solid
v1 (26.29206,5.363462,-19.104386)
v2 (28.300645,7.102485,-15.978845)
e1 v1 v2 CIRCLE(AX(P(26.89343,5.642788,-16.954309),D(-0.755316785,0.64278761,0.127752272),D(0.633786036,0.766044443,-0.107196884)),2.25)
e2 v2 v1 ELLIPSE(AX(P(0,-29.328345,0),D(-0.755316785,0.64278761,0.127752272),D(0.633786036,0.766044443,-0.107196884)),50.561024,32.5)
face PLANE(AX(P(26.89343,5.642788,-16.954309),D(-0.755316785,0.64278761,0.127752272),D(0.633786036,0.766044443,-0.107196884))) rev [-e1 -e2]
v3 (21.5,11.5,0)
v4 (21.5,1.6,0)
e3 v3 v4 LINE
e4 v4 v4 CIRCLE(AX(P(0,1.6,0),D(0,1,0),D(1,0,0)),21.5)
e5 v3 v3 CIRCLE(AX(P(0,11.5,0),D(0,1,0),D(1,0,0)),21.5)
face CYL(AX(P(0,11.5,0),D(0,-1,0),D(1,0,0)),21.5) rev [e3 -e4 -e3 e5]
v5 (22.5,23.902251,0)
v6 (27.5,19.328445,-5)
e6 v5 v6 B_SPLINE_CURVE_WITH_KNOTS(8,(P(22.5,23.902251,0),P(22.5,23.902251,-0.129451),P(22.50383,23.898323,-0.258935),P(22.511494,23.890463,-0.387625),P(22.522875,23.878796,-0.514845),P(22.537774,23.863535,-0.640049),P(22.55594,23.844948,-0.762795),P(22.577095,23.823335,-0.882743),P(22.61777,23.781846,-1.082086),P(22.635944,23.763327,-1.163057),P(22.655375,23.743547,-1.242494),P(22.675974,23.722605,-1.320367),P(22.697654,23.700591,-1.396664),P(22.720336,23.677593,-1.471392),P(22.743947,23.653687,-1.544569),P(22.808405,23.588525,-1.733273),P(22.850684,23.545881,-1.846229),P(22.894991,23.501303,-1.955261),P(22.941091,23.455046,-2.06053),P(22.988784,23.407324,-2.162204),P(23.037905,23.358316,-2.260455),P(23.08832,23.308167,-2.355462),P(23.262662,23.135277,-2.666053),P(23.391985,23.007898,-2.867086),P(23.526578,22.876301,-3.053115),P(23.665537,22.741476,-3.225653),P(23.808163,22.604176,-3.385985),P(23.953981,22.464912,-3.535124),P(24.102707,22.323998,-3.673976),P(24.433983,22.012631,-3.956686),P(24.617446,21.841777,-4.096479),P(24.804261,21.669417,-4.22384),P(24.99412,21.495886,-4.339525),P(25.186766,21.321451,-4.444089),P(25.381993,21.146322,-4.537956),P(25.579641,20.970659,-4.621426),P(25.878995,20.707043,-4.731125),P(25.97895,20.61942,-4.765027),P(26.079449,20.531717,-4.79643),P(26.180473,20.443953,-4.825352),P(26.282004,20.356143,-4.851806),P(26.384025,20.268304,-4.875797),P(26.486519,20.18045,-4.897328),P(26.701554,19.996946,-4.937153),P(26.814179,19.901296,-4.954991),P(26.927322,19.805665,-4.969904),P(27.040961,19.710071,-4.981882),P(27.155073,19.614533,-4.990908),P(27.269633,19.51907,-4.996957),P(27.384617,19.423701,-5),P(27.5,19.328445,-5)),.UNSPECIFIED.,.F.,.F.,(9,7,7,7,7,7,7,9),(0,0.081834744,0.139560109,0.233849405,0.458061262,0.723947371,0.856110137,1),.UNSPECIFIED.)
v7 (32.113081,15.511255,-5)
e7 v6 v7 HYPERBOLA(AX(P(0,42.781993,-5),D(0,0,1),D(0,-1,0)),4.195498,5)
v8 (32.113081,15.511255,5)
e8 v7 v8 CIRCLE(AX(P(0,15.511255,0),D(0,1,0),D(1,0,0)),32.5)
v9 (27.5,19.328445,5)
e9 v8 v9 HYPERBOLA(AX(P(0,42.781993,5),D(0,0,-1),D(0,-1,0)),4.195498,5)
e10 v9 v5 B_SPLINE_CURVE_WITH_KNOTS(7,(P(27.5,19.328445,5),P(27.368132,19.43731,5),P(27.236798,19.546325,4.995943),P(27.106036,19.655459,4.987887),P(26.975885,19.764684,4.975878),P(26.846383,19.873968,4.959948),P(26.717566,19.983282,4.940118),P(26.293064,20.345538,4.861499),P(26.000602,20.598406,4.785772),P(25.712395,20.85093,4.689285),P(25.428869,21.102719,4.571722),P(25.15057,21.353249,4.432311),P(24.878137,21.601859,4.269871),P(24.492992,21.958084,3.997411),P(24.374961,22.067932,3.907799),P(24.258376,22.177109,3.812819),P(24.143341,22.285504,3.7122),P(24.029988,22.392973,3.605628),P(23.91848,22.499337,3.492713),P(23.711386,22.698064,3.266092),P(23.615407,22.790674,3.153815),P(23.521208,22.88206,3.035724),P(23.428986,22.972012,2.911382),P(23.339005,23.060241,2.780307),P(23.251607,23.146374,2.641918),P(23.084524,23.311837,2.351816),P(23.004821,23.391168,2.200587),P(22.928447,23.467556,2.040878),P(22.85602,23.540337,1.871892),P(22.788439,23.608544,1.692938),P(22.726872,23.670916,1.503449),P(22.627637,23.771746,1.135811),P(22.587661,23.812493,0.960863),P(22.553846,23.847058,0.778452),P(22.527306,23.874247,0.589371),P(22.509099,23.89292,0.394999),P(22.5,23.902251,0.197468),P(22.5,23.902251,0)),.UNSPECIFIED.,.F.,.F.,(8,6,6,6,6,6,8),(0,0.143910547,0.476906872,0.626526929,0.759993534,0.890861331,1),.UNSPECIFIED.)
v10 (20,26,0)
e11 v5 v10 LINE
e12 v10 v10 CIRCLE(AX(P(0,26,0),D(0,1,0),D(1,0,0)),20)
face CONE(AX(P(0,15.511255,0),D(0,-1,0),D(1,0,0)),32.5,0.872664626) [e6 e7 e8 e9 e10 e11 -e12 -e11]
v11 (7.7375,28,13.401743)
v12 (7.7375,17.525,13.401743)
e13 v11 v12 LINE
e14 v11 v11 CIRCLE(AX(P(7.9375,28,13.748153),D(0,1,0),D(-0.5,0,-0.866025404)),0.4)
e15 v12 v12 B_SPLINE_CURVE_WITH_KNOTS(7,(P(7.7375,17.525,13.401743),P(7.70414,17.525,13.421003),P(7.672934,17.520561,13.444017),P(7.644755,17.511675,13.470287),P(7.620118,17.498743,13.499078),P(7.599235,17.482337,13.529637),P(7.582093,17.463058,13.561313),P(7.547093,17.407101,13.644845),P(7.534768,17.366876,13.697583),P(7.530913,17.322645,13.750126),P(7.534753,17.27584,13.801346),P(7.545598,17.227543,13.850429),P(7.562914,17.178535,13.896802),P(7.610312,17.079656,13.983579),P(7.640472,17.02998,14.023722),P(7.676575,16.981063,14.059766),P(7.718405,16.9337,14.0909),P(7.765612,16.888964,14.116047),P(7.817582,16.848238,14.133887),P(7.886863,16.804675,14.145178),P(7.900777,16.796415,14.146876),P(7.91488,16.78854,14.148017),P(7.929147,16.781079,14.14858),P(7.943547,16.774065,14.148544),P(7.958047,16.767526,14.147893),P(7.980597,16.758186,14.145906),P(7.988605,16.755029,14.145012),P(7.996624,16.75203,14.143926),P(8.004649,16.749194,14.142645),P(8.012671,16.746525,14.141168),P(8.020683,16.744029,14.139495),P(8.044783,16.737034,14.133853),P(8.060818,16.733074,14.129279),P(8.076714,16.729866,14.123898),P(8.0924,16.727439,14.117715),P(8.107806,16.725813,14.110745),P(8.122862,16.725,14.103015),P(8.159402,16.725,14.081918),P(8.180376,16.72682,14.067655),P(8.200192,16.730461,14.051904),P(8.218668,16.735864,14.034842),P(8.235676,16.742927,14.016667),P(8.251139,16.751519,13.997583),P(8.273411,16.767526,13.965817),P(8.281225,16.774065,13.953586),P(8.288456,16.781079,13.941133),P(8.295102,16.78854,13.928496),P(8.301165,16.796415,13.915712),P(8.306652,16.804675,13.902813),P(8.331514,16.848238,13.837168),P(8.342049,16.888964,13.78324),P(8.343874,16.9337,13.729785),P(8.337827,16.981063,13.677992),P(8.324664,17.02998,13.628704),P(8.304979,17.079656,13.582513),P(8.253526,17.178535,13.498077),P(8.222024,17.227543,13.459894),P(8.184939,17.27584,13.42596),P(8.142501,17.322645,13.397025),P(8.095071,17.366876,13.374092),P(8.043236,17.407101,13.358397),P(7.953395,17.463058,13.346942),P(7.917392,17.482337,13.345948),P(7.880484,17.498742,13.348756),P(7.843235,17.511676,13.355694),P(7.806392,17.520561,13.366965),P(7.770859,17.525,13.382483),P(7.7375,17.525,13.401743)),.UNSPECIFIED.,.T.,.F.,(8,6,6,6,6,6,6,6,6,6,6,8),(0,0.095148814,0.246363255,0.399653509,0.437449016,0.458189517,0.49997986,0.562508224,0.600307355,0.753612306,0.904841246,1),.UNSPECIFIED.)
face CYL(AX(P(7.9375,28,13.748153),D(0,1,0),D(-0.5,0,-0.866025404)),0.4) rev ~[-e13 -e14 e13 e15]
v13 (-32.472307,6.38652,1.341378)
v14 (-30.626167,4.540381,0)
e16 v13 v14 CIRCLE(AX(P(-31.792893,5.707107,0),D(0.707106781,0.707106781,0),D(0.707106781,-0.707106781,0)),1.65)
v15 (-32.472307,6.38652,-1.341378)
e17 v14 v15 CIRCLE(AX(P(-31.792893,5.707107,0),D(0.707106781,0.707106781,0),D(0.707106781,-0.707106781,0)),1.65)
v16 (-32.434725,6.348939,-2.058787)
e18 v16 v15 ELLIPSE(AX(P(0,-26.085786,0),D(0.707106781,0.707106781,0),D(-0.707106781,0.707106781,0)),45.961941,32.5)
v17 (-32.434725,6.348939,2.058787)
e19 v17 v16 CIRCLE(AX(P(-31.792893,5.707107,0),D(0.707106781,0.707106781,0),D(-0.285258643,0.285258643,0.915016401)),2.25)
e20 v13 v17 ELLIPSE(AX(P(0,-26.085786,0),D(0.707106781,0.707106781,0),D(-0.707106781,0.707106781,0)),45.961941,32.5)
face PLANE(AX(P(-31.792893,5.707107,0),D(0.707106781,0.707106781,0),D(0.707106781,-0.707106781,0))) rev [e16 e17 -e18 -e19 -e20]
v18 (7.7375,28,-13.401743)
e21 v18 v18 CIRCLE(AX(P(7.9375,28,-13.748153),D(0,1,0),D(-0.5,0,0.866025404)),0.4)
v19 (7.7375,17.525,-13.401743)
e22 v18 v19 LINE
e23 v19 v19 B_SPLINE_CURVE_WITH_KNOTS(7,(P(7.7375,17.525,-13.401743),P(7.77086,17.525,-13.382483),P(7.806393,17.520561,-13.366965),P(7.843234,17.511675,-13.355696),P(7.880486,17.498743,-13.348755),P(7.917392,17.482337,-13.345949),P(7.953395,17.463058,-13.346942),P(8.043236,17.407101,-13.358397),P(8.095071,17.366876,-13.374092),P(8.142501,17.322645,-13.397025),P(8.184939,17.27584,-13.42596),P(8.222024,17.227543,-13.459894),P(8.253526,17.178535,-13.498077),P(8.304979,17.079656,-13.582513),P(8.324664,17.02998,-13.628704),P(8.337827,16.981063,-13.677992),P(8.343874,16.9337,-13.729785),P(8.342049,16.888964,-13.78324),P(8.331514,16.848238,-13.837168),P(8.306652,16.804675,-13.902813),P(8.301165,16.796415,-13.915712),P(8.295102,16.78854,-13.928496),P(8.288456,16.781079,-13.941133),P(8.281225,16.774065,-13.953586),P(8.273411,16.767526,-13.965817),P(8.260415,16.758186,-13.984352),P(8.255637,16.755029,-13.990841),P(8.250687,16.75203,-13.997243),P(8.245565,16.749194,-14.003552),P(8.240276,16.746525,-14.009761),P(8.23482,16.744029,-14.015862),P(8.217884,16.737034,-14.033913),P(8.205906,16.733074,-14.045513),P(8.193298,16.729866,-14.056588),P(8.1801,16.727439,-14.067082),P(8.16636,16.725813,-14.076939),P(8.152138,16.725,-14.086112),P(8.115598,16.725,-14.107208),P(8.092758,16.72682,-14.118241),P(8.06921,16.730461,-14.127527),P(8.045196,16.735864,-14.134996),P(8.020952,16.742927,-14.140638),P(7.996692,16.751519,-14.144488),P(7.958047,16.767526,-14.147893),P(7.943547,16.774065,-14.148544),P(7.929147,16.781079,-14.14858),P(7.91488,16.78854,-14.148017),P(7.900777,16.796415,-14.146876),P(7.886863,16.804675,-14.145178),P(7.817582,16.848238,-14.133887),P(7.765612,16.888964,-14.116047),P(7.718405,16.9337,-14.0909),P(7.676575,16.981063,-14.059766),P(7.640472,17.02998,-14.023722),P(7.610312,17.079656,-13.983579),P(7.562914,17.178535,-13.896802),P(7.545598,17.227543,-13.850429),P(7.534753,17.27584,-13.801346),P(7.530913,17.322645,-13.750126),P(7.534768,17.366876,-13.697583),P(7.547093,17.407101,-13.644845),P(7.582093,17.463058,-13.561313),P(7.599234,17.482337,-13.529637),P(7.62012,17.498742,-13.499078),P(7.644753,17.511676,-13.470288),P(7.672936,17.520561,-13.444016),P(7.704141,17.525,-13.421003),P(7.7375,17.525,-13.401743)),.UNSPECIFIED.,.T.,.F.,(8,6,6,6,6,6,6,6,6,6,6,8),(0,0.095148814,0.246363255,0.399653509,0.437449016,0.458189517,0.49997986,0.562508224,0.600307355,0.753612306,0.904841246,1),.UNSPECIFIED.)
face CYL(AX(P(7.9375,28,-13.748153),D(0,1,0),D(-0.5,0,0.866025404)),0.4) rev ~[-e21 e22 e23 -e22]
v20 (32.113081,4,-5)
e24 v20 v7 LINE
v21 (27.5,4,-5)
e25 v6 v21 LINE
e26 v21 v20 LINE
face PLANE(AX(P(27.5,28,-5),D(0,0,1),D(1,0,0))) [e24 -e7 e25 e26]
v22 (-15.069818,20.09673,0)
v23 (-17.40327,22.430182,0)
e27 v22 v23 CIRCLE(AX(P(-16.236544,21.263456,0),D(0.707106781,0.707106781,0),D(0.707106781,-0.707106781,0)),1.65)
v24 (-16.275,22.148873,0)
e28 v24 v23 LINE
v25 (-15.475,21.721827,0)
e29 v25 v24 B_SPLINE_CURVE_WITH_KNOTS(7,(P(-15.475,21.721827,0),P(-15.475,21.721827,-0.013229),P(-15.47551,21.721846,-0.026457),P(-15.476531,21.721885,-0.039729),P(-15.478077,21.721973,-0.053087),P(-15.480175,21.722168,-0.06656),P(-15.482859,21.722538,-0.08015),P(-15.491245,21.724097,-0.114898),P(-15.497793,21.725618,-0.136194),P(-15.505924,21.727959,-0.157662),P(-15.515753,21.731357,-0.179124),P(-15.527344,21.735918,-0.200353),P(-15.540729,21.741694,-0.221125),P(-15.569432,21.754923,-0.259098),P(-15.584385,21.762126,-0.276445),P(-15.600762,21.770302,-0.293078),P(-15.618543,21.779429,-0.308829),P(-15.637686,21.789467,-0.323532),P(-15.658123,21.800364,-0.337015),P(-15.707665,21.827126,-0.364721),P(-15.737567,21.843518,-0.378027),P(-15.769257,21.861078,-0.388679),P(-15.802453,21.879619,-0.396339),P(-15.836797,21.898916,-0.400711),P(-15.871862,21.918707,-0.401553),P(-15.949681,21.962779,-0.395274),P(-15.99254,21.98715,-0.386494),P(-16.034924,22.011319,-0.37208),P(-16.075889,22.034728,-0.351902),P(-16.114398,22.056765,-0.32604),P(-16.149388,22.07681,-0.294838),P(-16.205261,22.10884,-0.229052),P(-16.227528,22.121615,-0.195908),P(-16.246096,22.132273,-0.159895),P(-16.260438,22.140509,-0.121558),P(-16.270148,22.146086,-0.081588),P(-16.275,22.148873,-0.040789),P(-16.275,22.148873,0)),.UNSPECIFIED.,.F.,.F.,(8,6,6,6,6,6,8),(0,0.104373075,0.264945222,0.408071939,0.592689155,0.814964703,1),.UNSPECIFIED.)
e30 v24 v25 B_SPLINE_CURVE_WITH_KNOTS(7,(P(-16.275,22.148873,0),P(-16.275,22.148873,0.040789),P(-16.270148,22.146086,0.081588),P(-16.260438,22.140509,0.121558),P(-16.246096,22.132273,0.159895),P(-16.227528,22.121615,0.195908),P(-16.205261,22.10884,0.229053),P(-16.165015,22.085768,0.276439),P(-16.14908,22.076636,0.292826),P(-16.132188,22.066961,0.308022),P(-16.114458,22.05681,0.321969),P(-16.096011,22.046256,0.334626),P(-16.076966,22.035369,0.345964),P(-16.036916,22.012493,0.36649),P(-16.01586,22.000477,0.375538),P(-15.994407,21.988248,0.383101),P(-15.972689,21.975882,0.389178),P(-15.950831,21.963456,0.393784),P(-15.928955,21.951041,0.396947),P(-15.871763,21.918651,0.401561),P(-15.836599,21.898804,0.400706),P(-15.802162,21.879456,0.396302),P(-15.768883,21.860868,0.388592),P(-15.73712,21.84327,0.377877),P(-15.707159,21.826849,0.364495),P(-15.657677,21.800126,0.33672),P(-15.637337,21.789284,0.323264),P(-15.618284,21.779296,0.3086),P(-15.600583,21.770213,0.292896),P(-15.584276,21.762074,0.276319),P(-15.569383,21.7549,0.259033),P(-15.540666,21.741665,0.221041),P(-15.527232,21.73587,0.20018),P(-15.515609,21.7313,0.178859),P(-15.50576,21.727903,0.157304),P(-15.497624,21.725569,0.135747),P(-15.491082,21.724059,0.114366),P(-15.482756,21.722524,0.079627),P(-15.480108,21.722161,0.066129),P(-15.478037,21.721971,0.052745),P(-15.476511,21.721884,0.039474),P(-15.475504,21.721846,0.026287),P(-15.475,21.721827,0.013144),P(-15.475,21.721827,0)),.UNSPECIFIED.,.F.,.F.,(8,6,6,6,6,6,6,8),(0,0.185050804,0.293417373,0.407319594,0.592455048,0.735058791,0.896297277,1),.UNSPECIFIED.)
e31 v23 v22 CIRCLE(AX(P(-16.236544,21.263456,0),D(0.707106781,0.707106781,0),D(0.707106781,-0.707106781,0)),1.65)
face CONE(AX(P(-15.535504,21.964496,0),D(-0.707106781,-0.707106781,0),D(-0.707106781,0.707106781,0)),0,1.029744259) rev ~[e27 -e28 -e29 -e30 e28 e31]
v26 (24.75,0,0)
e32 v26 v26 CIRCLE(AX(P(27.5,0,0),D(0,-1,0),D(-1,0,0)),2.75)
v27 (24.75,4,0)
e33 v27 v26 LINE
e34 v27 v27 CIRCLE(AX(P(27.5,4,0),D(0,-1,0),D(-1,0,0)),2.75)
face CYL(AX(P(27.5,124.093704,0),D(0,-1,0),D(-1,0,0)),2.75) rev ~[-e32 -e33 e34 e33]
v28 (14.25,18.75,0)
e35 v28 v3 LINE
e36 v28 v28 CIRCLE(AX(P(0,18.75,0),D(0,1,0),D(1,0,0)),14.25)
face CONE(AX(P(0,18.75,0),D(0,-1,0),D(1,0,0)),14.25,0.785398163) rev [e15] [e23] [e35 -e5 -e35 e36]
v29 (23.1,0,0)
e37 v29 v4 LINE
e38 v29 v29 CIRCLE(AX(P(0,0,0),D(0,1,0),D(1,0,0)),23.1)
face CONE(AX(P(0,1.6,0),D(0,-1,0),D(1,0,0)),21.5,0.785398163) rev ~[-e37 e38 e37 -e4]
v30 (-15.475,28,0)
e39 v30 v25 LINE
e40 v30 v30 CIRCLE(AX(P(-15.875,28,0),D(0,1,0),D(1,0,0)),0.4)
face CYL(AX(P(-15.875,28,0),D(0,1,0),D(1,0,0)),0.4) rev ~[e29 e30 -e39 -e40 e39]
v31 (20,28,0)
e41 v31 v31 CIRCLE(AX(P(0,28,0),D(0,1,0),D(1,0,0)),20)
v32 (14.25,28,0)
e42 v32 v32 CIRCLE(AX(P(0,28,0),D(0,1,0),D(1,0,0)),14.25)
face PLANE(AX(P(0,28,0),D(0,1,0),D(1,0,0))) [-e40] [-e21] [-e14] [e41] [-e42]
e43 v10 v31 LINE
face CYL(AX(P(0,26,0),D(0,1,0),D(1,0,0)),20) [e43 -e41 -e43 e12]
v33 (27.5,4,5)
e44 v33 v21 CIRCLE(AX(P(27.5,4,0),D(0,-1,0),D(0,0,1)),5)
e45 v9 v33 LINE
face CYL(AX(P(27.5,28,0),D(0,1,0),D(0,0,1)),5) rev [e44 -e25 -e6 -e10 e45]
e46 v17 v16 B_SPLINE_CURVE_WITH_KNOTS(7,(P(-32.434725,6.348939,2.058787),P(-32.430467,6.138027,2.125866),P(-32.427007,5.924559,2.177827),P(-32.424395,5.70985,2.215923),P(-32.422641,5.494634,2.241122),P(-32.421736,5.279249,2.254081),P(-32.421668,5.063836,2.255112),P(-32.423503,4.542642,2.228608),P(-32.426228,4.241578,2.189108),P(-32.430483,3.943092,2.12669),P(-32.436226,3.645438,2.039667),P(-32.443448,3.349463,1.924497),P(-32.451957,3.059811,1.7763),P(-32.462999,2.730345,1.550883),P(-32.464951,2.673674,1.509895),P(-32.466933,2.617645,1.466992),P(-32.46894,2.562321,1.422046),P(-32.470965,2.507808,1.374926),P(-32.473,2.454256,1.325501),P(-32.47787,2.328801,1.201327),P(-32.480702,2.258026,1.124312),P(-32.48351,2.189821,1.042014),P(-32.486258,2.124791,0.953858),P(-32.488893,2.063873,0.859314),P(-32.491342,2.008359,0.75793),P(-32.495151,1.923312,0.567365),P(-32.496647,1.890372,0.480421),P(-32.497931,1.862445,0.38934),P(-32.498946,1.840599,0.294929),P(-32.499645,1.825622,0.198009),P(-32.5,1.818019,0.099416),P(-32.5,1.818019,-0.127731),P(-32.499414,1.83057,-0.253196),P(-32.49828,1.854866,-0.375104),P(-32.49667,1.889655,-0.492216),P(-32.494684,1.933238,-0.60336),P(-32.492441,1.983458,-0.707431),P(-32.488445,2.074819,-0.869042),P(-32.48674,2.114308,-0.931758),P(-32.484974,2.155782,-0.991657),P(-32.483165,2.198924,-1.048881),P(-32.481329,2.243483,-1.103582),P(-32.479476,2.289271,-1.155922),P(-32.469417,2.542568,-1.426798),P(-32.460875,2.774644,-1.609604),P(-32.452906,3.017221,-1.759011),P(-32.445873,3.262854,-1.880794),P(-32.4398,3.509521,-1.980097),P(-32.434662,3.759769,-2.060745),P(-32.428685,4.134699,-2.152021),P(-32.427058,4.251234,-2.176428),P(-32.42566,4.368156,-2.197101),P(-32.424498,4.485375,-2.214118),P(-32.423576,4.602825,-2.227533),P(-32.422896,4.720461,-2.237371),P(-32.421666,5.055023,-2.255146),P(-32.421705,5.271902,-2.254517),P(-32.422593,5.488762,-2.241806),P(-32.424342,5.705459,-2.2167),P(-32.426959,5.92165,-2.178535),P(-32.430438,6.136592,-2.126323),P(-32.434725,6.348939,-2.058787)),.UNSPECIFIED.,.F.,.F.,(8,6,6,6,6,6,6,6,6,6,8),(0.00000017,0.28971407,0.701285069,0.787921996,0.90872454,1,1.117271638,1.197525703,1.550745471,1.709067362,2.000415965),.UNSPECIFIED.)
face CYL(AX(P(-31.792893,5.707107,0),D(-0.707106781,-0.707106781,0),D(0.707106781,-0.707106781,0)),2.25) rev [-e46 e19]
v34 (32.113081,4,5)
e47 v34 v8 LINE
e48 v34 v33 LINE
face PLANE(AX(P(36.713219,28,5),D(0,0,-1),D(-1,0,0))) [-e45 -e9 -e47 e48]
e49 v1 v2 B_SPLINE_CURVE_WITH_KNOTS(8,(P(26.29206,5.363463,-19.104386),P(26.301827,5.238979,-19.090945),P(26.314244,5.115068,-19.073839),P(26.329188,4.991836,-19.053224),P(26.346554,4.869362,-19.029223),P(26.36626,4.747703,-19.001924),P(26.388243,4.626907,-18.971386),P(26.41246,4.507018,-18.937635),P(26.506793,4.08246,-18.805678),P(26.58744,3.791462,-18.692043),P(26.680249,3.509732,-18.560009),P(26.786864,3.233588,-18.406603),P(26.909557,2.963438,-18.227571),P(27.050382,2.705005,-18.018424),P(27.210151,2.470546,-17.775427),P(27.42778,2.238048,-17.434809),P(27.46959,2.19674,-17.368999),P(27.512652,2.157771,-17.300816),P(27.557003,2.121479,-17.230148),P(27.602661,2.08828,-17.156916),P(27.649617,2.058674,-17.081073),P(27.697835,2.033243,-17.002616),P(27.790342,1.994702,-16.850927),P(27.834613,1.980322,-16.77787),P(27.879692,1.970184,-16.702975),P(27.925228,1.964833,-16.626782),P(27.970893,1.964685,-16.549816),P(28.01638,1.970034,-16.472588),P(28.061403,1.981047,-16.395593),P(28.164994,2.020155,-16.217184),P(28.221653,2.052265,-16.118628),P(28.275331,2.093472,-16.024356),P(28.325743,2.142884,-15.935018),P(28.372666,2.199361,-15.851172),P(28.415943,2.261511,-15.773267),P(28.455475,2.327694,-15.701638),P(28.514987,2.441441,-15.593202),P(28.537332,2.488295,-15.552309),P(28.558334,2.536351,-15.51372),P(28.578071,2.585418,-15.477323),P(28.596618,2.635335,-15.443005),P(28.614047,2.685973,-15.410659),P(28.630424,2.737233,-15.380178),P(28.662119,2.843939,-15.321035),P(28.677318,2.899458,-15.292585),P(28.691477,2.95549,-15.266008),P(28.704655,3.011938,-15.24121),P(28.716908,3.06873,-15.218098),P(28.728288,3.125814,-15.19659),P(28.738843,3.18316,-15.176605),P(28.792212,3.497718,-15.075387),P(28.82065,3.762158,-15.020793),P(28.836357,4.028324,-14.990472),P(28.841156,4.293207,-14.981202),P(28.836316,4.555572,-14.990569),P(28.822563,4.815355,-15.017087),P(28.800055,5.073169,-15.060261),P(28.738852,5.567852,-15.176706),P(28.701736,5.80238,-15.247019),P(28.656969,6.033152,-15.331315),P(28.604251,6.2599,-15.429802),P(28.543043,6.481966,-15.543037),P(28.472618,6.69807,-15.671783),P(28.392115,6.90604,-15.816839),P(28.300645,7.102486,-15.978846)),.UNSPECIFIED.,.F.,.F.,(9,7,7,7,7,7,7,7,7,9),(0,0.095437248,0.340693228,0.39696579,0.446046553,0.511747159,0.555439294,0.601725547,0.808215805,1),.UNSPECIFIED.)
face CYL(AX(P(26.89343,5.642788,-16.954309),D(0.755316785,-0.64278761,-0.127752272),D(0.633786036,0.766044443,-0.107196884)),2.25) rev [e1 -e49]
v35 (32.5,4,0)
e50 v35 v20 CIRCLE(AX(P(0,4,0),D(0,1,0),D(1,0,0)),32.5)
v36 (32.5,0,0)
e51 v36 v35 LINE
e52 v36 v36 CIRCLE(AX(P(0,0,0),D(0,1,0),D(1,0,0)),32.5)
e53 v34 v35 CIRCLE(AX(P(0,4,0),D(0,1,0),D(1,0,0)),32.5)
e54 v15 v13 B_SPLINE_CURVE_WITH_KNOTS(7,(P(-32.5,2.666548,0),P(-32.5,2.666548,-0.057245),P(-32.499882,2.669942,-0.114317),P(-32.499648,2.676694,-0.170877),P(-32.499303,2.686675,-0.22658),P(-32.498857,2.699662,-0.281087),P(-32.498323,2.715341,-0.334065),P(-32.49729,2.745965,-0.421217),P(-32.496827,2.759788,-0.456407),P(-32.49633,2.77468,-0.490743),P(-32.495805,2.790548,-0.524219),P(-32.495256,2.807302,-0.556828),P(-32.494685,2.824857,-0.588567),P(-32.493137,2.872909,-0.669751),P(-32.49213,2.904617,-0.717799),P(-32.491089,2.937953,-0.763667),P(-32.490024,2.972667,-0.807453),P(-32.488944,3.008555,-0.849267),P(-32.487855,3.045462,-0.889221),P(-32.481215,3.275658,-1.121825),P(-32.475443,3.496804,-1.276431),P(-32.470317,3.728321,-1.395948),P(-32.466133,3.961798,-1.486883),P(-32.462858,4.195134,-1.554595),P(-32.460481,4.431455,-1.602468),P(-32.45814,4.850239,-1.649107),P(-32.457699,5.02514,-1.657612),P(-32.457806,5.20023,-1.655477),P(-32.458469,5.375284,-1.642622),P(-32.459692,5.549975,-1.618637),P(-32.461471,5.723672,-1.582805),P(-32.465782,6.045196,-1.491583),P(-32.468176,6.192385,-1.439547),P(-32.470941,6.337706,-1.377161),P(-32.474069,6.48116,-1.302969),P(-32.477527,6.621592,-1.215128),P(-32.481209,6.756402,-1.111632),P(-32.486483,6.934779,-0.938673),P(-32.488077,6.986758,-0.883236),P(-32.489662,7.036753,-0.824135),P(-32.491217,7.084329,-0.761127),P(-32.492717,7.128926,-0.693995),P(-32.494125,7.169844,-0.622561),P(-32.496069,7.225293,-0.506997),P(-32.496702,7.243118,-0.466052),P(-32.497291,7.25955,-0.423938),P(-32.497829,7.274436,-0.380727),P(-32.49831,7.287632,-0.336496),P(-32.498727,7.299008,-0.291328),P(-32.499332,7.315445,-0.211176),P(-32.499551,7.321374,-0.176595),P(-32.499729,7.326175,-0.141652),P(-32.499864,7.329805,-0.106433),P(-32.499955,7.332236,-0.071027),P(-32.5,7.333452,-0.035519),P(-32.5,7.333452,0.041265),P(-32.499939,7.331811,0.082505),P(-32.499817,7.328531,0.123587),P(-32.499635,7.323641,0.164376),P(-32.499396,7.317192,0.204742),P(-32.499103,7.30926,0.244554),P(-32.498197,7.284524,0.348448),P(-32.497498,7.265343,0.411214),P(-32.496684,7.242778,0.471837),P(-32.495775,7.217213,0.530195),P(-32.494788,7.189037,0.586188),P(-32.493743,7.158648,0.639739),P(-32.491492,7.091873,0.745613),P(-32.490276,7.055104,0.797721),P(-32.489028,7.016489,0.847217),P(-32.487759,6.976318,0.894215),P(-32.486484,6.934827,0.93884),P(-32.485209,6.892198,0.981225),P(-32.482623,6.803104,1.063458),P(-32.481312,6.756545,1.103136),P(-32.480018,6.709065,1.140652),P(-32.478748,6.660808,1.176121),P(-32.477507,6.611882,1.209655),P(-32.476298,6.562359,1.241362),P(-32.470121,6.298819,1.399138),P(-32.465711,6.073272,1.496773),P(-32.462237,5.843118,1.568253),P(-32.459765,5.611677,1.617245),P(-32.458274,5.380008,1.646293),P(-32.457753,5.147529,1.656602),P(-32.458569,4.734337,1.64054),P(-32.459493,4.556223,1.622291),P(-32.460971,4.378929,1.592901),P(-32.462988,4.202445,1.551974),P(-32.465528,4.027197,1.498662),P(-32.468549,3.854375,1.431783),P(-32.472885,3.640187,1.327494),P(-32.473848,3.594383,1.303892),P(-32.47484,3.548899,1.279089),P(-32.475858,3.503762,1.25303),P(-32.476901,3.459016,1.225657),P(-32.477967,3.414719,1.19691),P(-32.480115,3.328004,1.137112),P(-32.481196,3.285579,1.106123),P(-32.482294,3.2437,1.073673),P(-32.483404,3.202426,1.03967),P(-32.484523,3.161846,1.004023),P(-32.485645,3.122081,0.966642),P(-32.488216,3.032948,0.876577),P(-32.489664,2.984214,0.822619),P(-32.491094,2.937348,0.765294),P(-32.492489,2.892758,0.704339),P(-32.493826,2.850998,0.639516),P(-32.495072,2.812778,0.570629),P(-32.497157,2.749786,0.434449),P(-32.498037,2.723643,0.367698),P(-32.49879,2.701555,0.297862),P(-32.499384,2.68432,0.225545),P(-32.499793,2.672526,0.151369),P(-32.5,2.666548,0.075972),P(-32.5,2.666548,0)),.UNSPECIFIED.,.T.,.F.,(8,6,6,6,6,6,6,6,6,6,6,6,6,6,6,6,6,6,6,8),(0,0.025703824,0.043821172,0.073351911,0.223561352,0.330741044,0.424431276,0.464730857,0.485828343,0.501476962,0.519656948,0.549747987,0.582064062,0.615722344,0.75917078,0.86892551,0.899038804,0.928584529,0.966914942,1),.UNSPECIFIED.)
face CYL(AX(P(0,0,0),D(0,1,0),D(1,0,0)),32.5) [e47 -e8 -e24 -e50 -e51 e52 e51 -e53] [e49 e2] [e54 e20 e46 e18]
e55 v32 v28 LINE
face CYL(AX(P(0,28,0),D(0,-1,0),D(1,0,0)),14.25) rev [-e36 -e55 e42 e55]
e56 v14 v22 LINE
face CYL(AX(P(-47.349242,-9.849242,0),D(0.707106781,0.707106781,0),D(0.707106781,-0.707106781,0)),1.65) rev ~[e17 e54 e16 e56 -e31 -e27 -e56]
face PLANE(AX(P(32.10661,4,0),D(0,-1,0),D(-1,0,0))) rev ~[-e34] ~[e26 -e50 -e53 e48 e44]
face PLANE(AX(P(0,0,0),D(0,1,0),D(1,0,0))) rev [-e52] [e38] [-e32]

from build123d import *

# Parameters (mm, degrees)
FASE1_SIZE                            = 1.6
SCHNITT_LINEAR_AUSTRAGEN1_DEPTH       = 24
F_5_5_5_5_DURCHMESSER_BOHRUNG1_D      = 5.5
M4_GEWINDEBOHRUNG2_D                  = 3.3
M4_GEWINDEBOHRUNG2_DEPTH              = 22
M4_GEWINDEBOHRUNG2_TIP                = 0.991420021
F_0_8_0_8_DURCHMESSER_BOHRUNG1_REACH  = 55.819
F_0_8_0_8_DURCHMESSER_BOHRUNG1_BORE_R = 0.4
KREISMUSTER1_COUNT                    = 3


with BuildPart() as part:
    # Skizze1 → Rotation1 (revolve)
    with BuildSketch(Plane.XY):
        Polygon((21.5, 0), (32.5, 0), (32.5, 15.51125461), (20, 26), (20, 28), (14.25, 28), (14.25, 18.75), (21.5, 11.5), align=None)
    revolve(axis=Axis((0, 0, 0), (0, 1, 0)))

    # Fase1
    fase1_edges = [part.edges().sort_by_distance(p)[0] for p in [
        (-21.5, 0, 0),
    ]]
    chamfer(fase1_edges, length=FASE1_SIZE)

    # Skizze2 → Schnitt-Linear austragen1 (cut)
    with BuildSketch(Plane(origin=(0, 28, 0), x_dir=(1, 0, 0), z_dir=(0, 1, 0))):
        with BuildLine():
            Line((27.5, 5), (36.713219287, 5))
            ThreePointArc((36.713219287, 5), (41.713219287, 0), (36.713219287, -5))
            Line((36.713219287, -5), (27.5, -5))
            ThreePointArc((27.5, -5), (22.5, 0), (27.5, 5))
        make_face()
    extrude(amount=-SCHNITT_LINEAR_AUSTRAGEN1_DEPTH, mode=Mode.SUBTRACT)

    # 5.5 _5.5_ Durchmesser Bohrung1 (through all)
    with Locations(Plane(origin=(0, 28, 0), x_dir=(1, 0, 0), z_dir=(0, 1, 0))):
        with Locations((27.5, 0)):
            Hole(F_5_5_5_5_DURCHMESSER_BOHRUNG1_D / 2)

    # Skizze9 → Schnitt-Rotation1 (revolve, cut)
    with BuildSketch(Plane.XY):
        Polygon((-34.391087084, 3.108912916), (-31.792893219, 5.707106781), (-30.201902961, 4.116116524), (-32.800096827, 1.517922658), align=None)
    revolve(axis=Axis((-34.391087084, 3.108912916, 0), (0.7071067811865462, 0.7071067811865488, 0)), mode=Mode.SUBTRACT)

    # M4 Gewindebohrung2
    with Locations(Plane(origin=(-13.042893219, -13.042893219, 0), x_dir=(-0.7071067811865488, 0.7071067811865462, 0), z_dir=(-0.7071067811865462, -0.7071067811865488, 0))):
        with Locations((26.516504294, 0)):
            Hole(M4_GEWINDEBOHRUNG2_D / 2, depth=M4_GEWINDEBOHRUNG2_DEPTH)
            with Locations((0, 0, -(M4_GEWINDEBOHRUNG2_DEPTH + M4_GEWINDEBOHRUNG2_TIP / 2))):  # 118° drill point
                Cone(0, M4_GEWINDEBOHRUNG2_D / 2, M4_GEWINDEBOHRUNG2_TIP, mode=Mode.SUBTRACT)

    # 0.8 _0.8_ Durchmesser Bohrung1 bore → 0.8 _0.8_ Durchmesser Bohrung1 (cut, up to next)
    with BuildSketch(Plane(origin=(0, 28, 0), x_dir=(1, 0, 0), z_dir=(0, 1, 0)), mode=Mode.PRIVATE) as f_0_8_0_8_durchmesser_bohrung1_sk1:
        with Locations((-15.875, 0)):
            Circle(F_0_8_0_8_DURCHMESSER_BOHRUNG1_BORE_R)
    f_0_8_0_8_durchmesser_bohrung1_tool1 = extrude(f_0_8_0_8_durchmesser_bohrung1_sk1.sketch, amount=-F_0_8_0_8_DURCHMESSER_BOHRUNG1_REACH, mode=Mode.PRIVATE) & part.part
    f_0_8_0_8_durchmesser_bohrung1 = f_0_8_0_8_durchmesser_bohrung1_tool1.solids().sort_by_distance((-15.875, 28, 0))[0]
    add(f_0_8_0_8_durchmesser_bohrung1, mode=Mode.SUBTRACT)

    # Kreismuster1: 0.8 _0.8_ Durchmesser Bohrung1; each copy of 0.8 _0.8_ Durchmesser Bohrung1 runs up to whatever stops it at its own place
    kreismuster1_before = part.part  # the part as the pattern finds it: every copy runs up to it
    kreismuster1_f_0_8_0_8_durchmesser_bohrung1_long = extrude(f_0_8_0_8_durchmesser_bohrung1_sk1.sketch, amount=-F_0_8_0_8_DURCHMESSER_BOHRUNG1_REACH, mode=Mode.PRIVATE)
    kreismuster1_f_0_8_0_8_durchmesser_bohrung1_tool = kreismuster1_f_0_8_0_8_durchmesser_bohrung1_long.rotate(Axis((0, 0, 0), (0, 1, 0)), 1 * 360 / KREISMUSTER1_COUNT) & kreismuster1_before
    add(kreismuster1_f_0_8_0_8_durchmesser_bohrung1_tool.solids().sort_by_distance((7.9375, 28, 13.748153))[0], mode=Mode.SUBTRACT)
    kreismuster1_f_0_8_0_8_durchmesser_bohrung1_tool = kreismuster1_f_0_8_0_8_durchmesser_bohrung1_long.rotate(Axis((0, 0, 0), (0, 1, 0)), 2 * 360 / KREISMUSTER1_COUNT) & kreismuster1_before
    add(kreismuster1_f_0_8_0_8_durchmesser_bohrung1_tool.solids().sort_by_distance((7.9375, 28, -13.748153))[0], mode=Mode.SUBTRACT)

    # Skizze15 → Schnitt-Rotation2 (revolve, cut)
    with BuildSketch(Plane(origin=(-2.039898254, 0, -12.060602687), x_dir=(0, 1, 0), z_dir=(0.16676874671610264, 0, 0.9859960370705049))):
        Polygon((3.231062719, -32.218445859), (5.64278761, -29.344264057), (7.366387607, -30.790536178), (4.954662716, -33.664717981), align=None)
    revolve(axis=Axis((29.727361684, 3.231062719, -17.433632524), (-0.7553167851351978, 0.6427876096865349, 0.12775227170778738)), mode=Mode.SUBTRACT)


solid = part.part
